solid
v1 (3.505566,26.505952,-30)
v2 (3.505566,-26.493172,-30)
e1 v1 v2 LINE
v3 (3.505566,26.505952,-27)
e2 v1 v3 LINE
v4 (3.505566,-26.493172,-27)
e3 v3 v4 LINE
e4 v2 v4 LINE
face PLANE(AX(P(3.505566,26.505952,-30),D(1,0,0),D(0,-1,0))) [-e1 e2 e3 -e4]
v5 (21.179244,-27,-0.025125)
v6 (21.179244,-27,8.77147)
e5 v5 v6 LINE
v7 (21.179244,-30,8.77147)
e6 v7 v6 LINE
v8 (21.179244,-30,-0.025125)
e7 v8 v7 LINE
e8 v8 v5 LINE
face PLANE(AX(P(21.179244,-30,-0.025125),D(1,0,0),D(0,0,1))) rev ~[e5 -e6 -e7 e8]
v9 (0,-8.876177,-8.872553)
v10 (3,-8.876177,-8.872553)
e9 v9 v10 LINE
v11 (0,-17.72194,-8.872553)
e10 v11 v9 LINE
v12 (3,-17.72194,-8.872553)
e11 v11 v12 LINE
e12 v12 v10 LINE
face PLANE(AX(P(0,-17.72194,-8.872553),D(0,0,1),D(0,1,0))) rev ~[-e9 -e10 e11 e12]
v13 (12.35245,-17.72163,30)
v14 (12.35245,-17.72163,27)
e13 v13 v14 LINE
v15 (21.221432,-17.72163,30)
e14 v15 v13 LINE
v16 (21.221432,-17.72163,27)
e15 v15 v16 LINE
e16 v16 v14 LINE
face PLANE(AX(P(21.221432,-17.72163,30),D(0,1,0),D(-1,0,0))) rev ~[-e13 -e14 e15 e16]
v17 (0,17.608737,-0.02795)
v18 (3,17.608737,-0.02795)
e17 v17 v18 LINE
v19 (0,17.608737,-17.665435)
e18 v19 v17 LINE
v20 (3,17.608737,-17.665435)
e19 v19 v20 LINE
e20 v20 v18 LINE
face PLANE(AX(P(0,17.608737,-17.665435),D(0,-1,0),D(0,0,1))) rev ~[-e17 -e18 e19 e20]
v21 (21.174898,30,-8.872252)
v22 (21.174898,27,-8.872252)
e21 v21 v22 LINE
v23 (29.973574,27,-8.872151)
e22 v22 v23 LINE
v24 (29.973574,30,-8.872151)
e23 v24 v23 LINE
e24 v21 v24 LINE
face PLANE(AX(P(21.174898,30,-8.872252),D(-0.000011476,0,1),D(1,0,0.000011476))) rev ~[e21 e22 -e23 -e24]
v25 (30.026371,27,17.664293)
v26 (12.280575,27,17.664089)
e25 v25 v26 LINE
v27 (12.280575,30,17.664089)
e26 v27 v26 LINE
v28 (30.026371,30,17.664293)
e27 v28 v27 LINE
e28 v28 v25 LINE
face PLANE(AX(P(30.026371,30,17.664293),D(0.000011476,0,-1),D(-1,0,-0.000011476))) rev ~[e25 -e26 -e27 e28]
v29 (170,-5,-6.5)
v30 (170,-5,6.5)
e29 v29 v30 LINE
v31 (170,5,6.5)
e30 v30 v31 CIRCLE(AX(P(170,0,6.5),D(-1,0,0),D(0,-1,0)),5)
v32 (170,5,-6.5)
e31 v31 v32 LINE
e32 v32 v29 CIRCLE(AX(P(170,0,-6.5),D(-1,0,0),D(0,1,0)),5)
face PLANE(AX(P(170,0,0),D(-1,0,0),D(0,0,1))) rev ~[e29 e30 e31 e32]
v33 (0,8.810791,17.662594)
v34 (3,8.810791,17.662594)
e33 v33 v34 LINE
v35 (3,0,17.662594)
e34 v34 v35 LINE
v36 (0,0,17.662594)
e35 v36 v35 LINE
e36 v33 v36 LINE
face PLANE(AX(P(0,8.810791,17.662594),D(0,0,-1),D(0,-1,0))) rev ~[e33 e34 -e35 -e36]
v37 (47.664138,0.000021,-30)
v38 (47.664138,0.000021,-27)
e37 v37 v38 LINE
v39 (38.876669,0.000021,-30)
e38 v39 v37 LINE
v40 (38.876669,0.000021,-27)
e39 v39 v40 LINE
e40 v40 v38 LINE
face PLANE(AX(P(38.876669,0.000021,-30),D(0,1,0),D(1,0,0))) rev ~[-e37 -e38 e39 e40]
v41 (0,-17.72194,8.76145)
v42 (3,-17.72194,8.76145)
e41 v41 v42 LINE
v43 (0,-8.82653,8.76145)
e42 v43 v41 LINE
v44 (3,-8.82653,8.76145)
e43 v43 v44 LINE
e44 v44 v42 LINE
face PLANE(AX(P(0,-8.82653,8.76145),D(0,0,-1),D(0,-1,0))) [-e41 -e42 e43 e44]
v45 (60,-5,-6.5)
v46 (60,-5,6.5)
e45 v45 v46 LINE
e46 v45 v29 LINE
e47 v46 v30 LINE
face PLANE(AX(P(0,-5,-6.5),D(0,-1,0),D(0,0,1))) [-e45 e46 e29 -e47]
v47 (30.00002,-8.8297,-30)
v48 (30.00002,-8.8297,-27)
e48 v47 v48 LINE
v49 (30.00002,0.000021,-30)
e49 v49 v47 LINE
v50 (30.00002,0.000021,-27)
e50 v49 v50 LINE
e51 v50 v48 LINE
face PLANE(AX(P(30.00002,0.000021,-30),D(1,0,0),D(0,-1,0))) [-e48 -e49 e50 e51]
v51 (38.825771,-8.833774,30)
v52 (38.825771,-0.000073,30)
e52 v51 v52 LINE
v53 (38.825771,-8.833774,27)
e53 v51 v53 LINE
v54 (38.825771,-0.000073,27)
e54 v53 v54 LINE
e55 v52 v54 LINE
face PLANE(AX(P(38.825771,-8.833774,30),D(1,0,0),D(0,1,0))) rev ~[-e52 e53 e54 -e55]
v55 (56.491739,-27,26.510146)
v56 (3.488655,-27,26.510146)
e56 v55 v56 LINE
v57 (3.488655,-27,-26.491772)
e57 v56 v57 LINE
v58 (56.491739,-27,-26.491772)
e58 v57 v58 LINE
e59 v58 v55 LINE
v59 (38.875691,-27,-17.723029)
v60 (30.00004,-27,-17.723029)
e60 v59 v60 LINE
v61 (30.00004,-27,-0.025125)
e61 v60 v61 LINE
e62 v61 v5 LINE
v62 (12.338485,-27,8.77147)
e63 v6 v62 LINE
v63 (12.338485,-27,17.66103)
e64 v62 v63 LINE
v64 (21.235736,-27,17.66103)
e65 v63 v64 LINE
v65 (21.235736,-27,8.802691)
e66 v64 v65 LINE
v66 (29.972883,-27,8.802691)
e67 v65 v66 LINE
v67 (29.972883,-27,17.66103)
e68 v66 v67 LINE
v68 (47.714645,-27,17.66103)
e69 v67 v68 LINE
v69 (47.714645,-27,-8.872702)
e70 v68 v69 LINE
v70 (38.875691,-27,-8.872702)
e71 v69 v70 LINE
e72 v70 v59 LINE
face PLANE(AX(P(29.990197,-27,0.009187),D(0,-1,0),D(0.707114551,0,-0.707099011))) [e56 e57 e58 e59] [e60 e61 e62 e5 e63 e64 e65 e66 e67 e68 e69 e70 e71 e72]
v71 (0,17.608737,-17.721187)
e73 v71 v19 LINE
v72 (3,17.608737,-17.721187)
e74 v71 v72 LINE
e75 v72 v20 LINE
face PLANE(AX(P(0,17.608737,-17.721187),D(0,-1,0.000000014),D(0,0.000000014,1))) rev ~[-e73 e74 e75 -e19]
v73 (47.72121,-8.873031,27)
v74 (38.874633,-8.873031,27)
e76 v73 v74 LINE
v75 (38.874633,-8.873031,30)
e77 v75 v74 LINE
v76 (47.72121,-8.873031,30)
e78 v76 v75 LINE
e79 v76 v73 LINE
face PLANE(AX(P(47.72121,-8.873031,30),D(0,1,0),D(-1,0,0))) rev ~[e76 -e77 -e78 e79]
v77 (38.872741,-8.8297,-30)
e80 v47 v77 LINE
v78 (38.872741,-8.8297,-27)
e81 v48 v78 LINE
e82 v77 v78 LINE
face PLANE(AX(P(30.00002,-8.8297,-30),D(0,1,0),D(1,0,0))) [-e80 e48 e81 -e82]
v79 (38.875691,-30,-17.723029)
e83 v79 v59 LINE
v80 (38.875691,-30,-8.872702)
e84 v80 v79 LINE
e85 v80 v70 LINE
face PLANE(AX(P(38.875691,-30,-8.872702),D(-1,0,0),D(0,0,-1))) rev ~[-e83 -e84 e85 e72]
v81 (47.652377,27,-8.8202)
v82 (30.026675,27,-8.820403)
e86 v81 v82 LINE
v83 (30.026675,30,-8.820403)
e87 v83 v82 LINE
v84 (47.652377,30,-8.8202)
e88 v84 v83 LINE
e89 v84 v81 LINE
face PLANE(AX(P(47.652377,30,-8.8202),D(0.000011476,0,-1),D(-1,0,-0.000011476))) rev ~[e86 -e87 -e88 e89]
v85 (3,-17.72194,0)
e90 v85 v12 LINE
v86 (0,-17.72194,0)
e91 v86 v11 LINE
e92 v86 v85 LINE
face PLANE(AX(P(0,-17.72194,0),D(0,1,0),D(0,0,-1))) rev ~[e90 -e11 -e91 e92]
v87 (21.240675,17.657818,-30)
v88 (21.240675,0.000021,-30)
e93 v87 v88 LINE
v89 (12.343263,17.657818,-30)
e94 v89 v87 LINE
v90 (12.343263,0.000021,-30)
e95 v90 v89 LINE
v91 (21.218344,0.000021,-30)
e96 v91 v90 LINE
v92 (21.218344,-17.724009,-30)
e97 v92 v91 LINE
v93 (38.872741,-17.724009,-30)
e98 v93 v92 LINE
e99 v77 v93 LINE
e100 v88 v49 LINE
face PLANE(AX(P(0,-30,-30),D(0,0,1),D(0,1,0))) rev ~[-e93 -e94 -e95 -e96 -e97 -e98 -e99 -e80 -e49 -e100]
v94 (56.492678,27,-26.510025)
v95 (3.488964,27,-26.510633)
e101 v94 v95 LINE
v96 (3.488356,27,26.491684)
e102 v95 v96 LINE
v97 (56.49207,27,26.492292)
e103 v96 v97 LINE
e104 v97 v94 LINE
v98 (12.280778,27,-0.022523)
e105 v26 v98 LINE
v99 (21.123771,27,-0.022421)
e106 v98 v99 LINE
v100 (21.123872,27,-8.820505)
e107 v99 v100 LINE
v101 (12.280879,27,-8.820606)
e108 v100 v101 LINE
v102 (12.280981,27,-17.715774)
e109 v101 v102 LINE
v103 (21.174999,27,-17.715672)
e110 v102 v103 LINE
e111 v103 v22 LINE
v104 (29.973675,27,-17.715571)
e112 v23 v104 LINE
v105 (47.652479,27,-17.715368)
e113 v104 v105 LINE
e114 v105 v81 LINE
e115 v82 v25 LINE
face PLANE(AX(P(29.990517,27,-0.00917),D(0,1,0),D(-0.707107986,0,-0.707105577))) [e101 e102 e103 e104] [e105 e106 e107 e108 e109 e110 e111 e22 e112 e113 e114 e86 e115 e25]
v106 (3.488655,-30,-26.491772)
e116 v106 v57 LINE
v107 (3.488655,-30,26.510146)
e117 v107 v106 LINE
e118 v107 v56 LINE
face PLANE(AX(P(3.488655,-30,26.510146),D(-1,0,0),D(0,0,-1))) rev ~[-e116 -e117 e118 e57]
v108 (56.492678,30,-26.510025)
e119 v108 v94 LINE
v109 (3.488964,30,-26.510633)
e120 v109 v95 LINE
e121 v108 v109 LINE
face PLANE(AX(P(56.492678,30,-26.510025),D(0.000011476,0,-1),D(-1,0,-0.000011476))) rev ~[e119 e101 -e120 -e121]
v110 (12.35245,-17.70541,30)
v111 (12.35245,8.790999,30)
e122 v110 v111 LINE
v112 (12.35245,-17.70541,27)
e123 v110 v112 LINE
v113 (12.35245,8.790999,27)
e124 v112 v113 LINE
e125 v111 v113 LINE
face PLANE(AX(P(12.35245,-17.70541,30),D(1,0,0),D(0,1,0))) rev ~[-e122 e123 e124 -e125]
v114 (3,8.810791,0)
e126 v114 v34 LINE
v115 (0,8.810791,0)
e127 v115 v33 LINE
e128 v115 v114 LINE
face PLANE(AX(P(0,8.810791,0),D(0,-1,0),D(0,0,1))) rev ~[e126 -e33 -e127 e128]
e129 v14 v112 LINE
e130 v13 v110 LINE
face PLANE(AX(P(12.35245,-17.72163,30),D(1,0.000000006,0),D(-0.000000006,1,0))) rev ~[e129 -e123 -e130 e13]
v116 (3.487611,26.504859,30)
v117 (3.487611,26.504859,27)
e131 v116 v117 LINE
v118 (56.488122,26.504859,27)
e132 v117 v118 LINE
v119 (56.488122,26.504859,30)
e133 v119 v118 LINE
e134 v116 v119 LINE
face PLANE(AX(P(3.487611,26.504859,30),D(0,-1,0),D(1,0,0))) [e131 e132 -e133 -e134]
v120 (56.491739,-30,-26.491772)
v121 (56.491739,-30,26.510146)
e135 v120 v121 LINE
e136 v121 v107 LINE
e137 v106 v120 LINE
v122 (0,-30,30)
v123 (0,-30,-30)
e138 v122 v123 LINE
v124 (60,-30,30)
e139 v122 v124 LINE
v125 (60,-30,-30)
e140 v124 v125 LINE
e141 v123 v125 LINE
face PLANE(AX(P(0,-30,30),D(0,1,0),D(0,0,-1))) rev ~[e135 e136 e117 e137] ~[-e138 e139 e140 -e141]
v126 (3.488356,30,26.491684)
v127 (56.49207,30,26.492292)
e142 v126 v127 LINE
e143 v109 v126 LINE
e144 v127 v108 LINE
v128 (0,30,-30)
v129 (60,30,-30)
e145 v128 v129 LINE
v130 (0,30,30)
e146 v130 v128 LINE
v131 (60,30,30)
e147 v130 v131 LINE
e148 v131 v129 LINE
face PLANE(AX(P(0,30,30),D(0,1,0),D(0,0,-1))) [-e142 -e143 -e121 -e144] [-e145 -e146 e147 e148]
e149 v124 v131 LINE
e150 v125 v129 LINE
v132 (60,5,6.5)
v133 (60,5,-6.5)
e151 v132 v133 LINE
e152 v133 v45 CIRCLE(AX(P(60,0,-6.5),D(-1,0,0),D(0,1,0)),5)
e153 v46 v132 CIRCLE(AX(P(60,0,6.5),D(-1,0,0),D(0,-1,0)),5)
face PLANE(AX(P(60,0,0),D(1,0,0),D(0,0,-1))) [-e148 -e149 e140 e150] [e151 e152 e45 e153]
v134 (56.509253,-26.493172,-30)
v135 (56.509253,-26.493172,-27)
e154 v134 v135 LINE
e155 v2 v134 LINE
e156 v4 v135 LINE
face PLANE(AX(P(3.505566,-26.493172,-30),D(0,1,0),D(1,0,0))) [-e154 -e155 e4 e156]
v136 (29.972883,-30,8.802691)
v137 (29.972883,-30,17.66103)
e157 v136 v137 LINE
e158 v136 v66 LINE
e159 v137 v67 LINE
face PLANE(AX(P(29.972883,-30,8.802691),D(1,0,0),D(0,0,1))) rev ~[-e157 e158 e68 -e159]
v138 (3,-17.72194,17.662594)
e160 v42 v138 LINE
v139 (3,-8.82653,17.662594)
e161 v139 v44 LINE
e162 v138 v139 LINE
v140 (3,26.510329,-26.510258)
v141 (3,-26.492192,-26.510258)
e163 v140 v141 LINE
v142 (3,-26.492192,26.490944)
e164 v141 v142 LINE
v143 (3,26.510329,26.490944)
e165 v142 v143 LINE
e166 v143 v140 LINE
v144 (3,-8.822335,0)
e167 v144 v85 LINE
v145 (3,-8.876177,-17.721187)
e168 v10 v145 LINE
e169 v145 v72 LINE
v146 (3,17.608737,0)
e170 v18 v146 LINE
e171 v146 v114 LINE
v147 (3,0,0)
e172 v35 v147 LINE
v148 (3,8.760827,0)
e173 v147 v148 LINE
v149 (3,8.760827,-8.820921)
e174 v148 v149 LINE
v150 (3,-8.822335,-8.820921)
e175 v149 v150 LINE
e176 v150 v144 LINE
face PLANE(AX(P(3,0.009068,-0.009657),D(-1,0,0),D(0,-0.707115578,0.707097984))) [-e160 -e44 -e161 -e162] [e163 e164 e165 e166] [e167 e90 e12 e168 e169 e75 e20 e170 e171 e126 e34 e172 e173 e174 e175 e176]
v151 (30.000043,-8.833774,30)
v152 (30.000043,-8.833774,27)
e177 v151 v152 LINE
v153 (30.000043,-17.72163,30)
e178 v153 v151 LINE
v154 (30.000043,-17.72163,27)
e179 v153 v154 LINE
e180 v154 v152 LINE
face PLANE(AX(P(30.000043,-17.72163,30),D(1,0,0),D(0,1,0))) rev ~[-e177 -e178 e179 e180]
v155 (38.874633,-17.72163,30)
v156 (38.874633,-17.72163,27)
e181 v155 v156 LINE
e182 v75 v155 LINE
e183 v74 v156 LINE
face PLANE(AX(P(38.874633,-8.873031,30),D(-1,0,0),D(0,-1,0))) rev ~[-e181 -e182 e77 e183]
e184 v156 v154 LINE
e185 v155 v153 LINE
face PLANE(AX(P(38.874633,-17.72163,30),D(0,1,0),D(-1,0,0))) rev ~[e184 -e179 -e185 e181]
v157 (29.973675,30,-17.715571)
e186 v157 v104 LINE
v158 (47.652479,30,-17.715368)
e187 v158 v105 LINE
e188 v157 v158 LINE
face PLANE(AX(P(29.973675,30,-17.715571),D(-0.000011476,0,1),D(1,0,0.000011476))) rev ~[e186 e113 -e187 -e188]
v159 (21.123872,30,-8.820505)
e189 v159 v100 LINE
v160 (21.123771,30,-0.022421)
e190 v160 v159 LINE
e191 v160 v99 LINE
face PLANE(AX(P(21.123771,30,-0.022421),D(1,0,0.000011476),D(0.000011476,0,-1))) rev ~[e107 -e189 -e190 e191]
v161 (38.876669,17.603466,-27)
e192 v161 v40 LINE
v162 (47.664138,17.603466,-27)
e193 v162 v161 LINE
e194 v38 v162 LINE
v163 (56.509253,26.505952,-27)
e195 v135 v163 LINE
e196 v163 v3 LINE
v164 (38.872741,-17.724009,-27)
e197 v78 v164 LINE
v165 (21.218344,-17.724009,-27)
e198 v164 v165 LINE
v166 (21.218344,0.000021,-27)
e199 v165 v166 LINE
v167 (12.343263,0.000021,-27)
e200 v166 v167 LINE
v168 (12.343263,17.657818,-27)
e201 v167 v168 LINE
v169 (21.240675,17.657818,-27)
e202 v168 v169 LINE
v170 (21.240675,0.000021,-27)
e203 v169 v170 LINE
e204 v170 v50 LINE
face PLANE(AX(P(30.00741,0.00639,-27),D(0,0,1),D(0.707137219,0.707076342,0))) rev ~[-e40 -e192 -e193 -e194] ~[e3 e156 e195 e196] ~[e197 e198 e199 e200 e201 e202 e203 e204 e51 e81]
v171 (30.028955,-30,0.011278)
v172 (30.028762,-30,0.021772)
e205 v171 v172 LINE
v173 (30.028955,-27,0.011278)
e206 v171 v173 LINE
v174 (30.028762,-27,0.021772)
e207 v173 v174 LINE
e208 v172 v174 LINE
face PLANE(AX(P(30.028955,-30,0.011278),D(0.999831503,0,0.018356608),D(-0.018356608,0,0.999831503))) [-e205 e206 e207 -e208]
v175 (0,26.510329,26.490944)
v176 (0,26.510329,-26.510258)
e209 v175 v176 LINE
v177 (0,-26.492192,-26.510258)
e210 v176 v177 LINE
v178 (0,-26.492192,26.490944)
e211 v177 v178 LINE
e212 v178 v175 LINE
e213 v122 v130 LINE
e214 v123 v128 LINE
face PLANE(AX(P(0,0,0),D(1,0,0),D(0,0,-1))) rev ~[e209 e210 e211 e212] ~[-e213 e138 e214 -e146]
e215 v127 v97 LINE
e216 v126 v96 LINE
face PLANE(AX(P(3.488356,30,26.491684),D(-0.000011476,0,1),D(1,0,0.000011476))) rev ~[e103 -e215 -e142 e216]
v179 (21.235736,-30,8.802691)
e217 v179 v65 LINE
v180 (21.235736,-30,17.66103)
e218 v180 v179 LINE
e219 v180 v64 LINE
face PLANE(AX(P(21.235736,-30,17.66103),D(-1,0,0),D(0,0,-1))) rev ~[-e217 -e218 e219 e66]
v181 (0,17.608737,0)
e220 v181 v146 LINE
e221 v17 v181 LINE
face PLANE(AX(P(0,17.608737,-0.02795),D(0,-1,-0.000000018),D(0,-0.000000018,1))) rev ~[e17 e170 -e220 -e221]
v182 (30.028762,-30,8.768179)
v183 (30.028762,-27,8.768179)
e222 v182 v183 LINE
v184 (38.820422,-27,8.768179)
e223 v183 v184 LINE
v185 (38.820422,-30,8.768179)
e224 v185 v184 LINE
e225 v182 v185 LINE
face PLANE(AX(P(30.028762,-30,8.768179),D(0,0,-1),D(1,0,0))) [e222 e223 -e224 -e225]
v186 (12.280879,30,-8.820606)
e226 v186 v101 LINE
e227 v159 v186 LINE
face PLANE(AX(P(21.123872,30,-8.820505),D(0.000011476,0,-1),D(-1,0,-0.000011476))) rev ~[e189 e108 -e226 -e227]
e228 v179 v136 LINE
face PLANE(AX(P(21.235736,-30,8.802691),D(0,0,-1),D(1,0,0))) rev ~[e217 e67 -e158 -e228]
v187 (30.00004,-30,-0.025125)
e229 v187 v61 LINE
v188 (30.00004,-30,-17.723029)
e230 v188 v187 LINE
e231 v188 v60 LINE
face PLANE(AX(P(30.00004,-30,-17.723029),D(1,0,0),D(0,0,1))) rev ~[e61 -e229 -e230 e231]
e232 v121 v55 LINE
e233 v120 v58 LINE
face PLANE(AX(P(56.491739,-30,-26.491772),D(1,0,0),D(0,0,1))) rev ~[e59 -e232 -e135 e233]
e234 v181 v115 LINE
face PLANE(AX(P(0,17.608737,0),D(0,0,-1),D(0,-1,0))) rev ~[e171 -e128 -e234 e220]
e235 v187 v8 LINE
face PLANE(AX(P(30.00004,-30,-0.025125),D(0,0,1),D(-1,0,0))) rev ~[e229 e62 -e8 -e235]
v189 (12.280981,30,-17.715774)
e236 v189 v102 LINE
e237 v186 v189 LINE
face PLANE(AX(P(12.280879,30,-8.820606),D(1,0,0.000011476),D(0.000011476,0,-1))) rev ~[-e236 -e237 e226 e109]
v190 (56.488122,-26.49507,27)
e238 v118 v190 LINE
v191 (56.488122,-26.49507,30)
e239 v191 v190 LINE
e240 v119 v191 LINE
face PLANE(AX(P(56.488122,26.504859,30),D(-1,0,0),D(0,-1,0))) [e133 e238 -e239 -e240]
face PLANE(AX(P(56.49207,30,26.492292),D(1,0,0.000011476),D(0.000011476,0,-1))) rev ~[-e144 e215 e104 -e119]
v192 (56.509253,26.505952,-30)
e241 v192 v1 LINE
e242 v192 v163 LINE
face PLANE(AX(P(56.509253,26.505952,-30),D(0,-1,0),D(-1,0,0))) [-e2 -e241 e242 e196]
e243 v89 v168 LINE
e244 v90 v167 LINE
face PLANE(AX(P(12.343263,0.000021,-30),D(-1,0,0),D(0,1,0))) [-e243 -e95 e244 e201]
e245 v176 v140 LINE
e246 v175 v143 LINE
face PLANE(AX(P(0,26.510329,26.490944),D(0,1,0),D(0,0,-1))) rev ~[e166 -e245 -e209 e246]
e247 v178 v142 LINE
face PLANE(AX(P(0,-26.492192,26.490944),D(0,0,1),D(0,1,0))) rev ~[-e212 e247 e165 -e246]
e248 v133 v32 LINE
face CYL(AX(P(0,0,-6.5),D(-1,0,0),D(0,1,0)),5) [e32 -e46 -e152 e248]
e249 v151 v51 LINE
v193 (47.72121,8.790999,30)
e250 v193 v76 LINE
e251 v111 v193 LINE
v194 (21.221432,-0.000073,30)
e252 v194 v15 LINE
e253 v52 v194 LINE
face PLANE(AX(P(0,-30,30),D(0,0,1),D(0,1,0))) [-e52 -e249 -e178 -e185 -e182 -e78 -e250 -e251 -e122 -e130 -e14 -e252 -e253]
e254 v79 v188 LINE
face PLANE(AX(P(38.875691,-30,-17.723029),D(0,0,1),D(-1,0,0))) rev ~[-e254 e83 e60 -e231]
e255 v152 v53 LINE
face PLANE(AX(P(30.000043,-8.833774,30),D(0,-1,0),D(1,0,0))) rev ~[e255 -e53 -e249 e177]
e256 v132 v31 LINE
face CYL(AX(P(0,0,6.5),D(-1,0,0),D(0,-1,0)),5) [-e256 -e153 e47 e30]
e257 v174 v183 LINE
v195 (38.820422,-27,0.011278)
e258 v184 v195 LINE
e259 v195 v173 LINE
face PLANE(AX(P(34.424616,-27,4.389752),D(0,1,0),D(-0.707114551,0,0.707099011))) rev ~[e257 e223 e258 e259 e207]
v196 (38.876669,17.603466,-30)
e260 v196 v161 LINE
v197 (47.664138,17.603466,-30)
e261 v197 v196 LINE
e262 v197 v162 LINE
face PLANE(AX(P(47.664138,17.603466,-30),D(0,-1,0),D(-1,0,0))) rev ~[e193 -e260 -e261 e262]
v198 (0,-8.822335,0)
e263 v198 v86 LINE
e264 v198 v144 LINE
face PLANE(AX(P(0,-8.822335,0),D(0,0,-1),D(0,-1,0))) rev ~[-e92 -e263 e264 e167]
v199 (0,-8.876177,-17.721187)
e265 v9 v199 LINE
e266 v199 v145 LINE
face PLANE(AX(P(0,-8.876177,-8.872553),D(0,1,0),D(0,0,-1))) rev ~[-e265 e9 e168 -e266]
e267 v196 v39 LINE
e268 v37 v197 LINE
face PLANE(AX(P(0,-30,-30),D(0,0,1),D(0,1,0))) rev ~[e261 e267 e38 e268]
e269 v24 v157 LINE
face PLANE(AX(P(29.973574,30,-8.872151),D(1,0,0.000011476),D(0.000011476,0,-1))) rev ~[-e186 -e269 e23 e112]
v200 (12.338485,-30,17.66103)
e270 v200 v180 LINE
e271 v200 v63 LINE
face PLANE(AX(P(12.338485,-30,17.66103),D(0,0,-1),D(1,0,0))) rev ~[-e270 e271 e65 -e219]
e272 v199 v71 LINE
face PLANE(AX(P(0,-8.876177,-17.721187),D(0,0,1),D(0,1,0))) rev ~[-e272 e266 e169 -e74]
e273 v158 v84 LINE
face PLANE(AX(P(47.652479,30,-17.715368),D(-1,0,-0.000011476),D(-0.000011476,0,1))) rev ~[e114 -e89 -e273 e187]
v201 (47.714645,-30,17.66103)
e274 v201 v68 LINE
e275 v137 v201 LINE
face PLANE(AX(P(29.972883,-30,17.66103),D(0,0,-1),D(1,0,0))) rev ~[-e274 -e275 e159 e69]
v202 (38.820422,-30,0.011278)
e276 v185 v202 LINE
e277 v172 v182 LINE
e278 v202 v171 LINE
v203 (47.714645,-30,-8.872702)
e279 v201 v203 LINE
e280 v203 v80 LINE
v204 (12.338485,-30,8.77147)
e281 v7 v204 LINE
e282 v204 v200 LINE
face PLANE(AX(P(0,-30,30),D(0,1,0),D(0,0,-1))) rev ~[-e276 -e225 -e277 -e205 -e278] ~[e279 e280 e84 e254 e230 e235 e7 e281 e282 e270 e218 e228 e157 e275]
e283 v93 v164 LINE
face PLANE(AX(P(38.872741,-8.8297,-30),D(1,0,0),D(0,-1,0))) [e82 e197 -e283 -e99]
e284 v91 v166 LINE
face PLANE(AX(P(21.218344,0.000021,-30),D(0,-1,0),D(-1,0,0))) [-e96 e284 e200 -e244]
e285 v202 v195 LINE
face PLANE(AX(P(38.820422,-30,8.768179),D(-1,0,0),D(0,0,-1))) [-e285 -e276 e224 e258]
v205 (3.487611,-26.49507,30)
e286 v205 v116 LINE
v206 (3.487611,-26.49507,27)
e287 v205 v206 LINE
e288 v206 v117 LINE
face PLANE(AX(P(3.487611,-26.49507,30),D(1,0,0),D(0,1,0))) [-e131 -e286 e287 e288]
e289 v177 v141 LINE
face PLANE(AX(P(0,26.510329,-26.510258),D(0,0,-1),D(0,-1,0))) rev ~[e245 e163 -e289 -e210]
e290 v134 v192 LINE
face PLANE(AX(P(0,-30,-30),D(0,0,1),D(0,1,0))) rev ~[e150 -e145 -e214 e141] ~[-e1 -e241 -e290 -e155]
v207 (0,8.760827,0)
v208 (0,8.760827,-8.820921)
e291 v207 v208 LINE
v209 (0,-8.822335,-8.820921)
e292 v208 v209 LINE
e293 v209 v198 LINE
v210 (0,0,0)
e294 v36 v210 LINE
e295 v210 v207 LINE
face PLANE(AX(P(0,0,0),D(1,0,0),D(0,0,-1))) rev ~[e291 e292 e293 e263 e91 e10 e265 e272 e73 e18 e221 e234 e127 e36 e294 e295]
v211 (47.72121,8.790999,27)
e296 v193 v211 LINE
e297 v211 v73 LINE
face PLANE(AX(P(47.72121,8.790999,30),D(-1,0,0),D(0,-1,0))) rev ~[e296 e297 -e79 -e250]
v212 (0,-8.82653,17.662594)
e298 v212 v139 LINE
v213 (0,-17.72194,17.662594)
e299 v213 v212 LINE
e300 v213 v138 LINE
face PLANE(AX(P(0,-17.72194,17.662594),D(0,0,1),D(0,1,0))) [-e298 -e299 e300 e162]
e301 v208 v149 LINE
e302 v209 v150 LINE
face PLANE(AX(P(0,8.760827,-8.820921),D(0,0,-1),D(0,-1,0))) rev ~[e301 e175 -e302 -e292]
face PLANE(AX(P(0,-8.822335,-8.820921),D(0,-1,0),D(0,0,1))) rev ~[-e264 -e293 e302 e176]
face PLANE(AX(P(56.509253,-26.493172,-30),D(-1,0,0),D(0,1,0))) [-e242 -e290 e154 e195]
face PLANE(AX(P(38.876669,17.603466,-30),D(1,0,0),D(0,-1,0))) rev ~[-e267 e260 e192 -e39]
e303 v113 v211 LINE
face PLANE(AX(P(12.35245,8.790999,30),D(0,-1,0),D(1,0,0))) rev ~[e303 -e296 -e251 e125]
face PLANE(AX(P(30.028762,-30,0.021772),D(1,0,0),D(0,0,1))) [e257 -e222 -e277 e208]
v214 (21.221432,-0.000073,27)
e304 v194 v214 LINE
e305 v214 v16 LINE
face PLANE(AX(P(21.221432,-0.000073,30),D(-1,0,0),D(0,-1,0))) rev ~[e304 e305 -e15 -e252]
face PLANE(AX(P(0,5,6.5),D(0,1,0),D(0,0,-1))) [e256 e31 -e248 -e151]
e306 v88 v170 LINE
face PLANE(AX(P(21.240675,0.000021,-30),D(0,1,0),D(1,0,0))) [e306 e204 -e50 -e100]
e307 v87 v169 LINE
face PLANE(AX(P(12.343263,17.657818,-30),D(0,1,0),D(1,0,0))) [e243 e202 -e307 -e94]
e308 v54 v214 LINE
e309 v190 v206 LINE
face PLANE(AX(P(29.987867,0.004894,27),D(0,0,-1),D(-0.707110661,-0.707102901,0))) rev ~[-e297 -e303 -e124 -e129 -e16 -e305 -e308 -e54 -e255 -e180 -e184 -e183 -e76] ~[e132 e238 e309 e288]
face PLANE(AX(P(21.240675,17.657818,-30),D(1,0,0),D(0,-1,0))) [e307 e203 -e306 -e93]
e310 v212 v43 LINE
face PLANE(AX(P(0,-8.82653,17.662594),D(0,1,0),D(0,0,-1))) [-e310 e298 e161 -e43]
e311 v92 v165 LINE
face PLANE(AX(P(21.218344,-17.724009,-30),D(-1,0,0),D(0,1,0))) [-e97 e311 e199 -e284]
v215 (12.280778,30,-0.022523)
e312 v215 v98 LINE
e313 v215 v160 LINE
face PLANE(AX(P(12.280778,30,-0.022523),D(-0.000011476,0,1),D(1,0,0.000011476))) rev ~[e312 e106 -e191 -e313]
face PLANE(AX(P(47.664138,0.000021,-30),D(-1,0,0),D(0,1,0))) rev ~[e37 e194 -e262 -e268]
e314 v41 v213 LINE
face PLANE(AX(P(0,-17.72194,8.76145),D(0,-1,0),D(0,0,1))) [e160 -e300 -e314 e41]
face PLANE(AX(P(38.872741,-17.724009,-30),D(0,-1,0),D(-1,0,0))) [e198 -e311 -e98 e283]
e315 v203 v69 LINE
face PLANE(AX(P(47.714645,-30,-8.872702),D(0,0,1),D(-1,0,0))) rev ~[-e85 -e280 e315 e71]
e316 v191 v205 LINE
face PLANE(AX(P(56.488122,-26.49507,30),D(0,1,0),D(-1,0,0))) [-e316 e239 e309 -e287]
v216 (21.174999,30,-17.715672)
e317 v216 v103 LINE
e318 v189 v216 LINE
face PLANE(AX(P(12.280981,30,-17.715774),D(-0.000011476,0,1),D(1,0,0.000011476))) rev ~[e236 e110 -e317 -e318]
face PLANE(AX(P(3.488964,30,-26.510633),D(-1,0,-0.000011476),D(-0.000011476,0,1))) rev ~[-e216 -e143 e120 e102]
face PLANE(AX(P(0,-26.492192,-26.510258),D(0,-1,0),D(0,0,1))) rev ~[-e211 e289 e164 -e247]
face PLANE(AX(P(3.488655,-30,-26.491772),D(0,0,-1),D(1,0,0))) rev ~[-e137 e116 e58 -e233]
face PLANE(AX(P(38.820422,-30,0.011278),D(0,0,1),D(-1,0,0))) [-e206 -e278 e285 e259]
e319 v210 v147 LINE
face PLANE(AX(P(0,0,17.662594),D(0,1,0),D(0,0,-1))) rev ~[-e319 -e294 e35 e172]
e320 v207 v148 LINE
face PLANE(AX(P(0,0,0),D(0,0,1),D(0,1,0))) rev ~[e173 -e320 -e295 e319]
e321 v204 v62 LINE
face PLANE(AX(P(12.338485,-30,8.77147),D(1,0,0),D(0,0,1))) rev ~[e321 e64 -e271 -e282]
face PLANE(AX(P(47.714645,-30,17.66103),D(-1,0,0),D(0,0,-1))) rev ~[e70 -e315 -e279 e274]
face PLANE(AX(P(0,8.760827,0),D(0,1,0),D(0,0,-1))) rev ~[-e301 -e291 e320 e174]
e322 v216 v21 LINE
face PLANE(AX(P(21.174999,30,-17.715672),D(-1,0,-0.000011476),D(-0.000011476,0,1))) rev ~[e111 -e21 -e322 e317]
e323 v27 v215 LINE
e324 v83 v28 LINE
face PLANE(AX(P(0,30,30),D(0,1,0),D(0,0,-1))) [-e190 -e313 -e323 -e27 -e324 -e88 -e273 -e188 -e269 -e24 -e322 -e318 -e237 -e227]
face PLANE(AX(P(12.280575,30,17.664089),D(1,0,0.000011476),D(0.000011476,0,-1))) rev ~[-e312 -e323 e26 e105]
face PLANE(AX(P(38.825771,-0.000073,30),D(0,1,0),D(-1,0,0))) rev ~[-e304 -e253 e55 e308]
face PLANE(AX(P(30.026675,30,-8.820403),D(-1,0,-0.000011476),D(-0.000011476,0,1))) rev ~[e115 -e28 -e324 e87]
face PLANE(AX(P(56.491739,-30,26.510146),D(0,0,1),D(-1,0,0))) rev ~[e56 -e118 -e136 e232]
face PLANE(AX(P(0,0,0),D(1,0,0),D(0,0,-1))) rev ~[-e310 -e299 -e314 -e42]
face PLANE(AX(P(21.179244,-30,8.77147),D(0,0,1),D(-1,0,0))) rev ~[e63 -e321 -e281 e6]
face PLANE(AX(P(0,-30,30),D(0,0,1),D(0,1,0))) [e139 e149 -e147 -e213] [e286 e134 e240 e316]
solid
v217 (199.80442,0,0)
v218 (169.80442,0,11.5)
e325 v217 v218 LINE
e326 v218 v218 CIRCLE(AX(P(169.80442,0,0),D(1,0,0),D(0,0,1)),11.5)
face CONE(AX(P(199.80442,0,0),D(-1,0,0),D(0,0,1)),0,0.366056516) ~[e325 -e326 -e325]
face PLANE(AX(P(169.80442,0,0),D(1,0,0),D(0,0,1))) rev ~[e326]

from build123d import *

# Parameters (mm, degrees)
ESTRUSIONE_ESTRUSIONE1_DEPTH = 170
SCHIZZO5_W                   = 60
SCHIZZO5_H                   = 60
ESTRUSIONE_ESTRUSIONE2_DEPTH = 60
TAGLIO_ESTRUSIONE10_DEPTH    = 3
TAGLIO_ESTRUSIONE11_DEPTH    = 3
TAGLIO_ESTRUSIONE13_DEPTH    = 3
TAGLIO_ESTRUSIONE14_DEPTH    = 3
TAGLIO_ESTRUSIONE15_DEPTH    = 3


with BuildPart() as part:
    # Schizzo3 → Estrusione-Estrusione1 (new body)
    with BuildSketch(Plane(origin=(0, 0, 0), x_dir=(0, 0, -1), z_dir=(1, 0, 0))):
        with BuildLine():
            Line((-6.5, 5), (6.5, 5))
            ThreePointArc((6.5, 5), (11.5, 0), (6.5, -5))
            Line((6.5, -5), (-6.5, -5))
            ThreePointArc((-6.5, -5), (-11.5, 0), (-6.5, 5))
        make_face()
    extrude(amount=ESTRUSIONE_ESTRUSIONE1_DEPTH)

    # Schizzo5 → Estrusione-Estrusione2 (add)
    with BuildSketch(Plane(origin=(0, 0, 0), x_dir=(0, 0, -1), z_dir=(1, 0, 0))):
        Rectangle(SCHIZZO5_W, SCHIZZO5_H)
    extrude(amount=ESTRUSIONE_ESTRUSIONE2_DEPTH)

    # Schizzo3D7 → Taglio-Estrusione10 (cut)
    with BuildSketch(Plane(origin=(56.509252896, 26.505952129, -30), x_dir=(-0.7071372191638572, -0.7070763418989545, 0), z_dir=(0, 0, -1))):
        Polygon((0, 0), (37.480879661, 37.477652941), (74.95530616, 0), (37.4744265, -37.477652941), align=None)
        Polygon((12.549447187, -0.041107367), (18.763393239, 6.172303729), (31.2103731, -6.275747782), (24.996427048, -12.489158877), align=None, mode=Mode.SUBTRACT)
        Polygon((43.745393177, -18.806291324), (56.229474498, -6.323284754), (43.697232303, 6.210036431), (49.973132388, 12.485396224), (37.487721799, 24.971881772), (31.196030757, 18.680732379), (43.681441346, 6.194246832), (37.487382187, 0.000720919), (43.730669214, -6.243103637), (37.456438009, -12.516794695), align=None, mode=Mode.SUBTRACT)
    extrude(amount=-TAGLIO_ESTRUSIONE10_DEPTH, mode=Mode.SUBTRACT)

    # Schizzo3D9 → Taglio-Estrusione11 (cut)
    with BuildSketch(Plane(origin=(3.48896397, 30, -26.510632889), x_dir=(0.7071079856740462, 0, 0.7071055766969973), z_dir=(0, -1, 0))):
        Polygon((0, 0), (37.477803778, 37.478791667), (74.95758336, 0), (37.479779582, -37.478791667), align=None)
        Polygon((12.43579878, 0.00203054), (18.724902507, -6.286907414), (24.978062752, -0.033582341), (31.199748191, -6.255103785), (24.946587946, -12.508428859), (37.447554582, -25.009065987), (43.737305453, -18.719149323), (31.273888011, -6.256060399), (50.001148896, 12.471694123), (37.452810535, 25.019701726), (24.946652169, 12.513213707), (31.199675089, 6.260355607), (24.978572571, 0.039089105), (18.72554965, 6.291947204), align=None, mode=Mode.SUBTRACT)
    extrude(amount=TAGLIO_ESTRUSIONE11_DEPTH, mode=Mode.SUBTRACT)

    # Schizzo3D10 → Taglio-Estrusione13 (cut)
    # profile 1 of 2: a face of its own
    with BuildSketch(Plane(origin=(3.488655303, -30, 26.510146491), x_dir=(0.7071145512231992, 0, -0.7070990110645141), z_dir=(0, -1, 0))):
        Polygon((0, 0), (37.477604433, -37.478428091), (74.9568562, 0), (37.479251767, 37.478428091), align=None)
        Polygon((25.052273044, -0.034278035), (18.80084393, -6.285569762), (12.515044966, 0.000367348), (18.806420078, 6.291604196), (25.070142969, 0.027743646), (31.248306687, 6.205771587), (24.984583796, 12.469632138), (37.530042105, 25.014814736), (56.292018249, 6.252426254), (50.041865549, 0.002410912), (56.299922917, -6.255783991), (50.023820889, -12.531748091), (37.509650627, -0.0173028), (31.272337329, -6.254479021), align=None, mode=Mode.SUBTRACT)
    # profile 2 of 2: a face of its own
    with BuildSketch(Plane(origin=(3.488655303, -30, 26.510146491), x_dir=(0.7071145512231992, 0, -0.7070990110645141), z_dir=(0, -1, 0))):
        Polygon((37.496799303, 0.036168583), (31.312223937, 6.22087987), (37.528934609, 12.437453919), (43.720930387, 6.245322057), (37.504355954, 0.028884245), align=None)
    extrude(amount=-TAGLIO_ESTRUSIONE13_DEPTH, mode=Mode.SUBTRACT)

    # Schizzo3D11 → Taglio-Estrusione14 (cut)
    with BuildSketch(Plane(origin=(3.48761134, -26.495070277, 30), x_dir=(0.7071106609809186, 0.7071029013708885, 0), z_dir=(0, 0, 1))):
        Polygon((0, 0), (37.47640364, 37.476814899), (74.953629802, 0), (37.477226162, -37.476814899), align=None)
        Polygon((12.483616576, -0.053090758), (31.219303961, 18.682802228), (56.228931149, -6.326550512), (43.738644318, -18.816974409), (37.483135519, -12.561534256), (31.226265699, -18.818472739), (24.950948382, -12.543224286), (31.235576896, -6.258526806), (37.476342879, -12.499224305), (43.722678491, -6.252820147), (31.274462582, 6.195259158), (18.743498457, -6.335842479), (12.472147309, -0.064560151), align=None, mode=Mode.SUBTRACT)
    extrude(amount=-TAGLIO_ESTRUSIONE14_DEPTH, mode=Mode.SUBTRACT)

    # Schizzo3D12 → Taglio-Estrusione15 (cut)
    with BuildSketch(Plane(origin=(0, 26.510328561, -26.510258091), x_dir=(0, -0.7071155777670133, 0.707097984496649), z_dir=(-1, 0, 0))):
        Polygon((0, 0), (37.478907887, -37.477975399), (74.955950822, 0), (37.477042935, 37.477975399), align=None)
        Polygon((12.548610555, -0.039984823), (25.020040578, 12.431755501), (25.039803863, 12.451519277), (31.26096878, 6.230509145), (43.750153238, 18.720004346), (49.98040082, 12.489911774), (37.491216362, 0.000416573), (31.296299436, 6.195179367), (25.059044147, -0.04223111), (37.492371823, -12.475249441), (43.729627112, -6.237838964), (50.02267626, -12.530731538), (43.748911666, -18.804652229), (37.493935145, -12.549831334), (31.237084407, -18.806837749), (12.509188531, -0.079407829), align=None, mode=Mode.SUBTRACT)
        Polygon((49.927796206, -0.045447197), (56.217879582, -6.335374073), (62.511860718, -0.041236337), (56.221777342, 6.248690539), align=None, mode=Mode.SUBTRACT)
    extrude(amount=-TAGLIO_ESTRUSIONE15_DEPTH, mode=Mode.SUBTRACT)


with BuildPart() as body_2:
    # Schizzo8 → Rivoluzione1 (revolve)
    with BuildSketch(Plane(origin=(-2.00656725, 0, 0), x_dir=(1, 0, 0), z_dir=(0, 1, 0))):
        Polygon((171.810987293, 0), (201.810987293, 0), (171.810987293, -11.5), align=None)
    revolve(axis=Axis((169.804420043, 0, 0), (1, 0, 0)))


solid = Compound([part.part, body_2.part])
